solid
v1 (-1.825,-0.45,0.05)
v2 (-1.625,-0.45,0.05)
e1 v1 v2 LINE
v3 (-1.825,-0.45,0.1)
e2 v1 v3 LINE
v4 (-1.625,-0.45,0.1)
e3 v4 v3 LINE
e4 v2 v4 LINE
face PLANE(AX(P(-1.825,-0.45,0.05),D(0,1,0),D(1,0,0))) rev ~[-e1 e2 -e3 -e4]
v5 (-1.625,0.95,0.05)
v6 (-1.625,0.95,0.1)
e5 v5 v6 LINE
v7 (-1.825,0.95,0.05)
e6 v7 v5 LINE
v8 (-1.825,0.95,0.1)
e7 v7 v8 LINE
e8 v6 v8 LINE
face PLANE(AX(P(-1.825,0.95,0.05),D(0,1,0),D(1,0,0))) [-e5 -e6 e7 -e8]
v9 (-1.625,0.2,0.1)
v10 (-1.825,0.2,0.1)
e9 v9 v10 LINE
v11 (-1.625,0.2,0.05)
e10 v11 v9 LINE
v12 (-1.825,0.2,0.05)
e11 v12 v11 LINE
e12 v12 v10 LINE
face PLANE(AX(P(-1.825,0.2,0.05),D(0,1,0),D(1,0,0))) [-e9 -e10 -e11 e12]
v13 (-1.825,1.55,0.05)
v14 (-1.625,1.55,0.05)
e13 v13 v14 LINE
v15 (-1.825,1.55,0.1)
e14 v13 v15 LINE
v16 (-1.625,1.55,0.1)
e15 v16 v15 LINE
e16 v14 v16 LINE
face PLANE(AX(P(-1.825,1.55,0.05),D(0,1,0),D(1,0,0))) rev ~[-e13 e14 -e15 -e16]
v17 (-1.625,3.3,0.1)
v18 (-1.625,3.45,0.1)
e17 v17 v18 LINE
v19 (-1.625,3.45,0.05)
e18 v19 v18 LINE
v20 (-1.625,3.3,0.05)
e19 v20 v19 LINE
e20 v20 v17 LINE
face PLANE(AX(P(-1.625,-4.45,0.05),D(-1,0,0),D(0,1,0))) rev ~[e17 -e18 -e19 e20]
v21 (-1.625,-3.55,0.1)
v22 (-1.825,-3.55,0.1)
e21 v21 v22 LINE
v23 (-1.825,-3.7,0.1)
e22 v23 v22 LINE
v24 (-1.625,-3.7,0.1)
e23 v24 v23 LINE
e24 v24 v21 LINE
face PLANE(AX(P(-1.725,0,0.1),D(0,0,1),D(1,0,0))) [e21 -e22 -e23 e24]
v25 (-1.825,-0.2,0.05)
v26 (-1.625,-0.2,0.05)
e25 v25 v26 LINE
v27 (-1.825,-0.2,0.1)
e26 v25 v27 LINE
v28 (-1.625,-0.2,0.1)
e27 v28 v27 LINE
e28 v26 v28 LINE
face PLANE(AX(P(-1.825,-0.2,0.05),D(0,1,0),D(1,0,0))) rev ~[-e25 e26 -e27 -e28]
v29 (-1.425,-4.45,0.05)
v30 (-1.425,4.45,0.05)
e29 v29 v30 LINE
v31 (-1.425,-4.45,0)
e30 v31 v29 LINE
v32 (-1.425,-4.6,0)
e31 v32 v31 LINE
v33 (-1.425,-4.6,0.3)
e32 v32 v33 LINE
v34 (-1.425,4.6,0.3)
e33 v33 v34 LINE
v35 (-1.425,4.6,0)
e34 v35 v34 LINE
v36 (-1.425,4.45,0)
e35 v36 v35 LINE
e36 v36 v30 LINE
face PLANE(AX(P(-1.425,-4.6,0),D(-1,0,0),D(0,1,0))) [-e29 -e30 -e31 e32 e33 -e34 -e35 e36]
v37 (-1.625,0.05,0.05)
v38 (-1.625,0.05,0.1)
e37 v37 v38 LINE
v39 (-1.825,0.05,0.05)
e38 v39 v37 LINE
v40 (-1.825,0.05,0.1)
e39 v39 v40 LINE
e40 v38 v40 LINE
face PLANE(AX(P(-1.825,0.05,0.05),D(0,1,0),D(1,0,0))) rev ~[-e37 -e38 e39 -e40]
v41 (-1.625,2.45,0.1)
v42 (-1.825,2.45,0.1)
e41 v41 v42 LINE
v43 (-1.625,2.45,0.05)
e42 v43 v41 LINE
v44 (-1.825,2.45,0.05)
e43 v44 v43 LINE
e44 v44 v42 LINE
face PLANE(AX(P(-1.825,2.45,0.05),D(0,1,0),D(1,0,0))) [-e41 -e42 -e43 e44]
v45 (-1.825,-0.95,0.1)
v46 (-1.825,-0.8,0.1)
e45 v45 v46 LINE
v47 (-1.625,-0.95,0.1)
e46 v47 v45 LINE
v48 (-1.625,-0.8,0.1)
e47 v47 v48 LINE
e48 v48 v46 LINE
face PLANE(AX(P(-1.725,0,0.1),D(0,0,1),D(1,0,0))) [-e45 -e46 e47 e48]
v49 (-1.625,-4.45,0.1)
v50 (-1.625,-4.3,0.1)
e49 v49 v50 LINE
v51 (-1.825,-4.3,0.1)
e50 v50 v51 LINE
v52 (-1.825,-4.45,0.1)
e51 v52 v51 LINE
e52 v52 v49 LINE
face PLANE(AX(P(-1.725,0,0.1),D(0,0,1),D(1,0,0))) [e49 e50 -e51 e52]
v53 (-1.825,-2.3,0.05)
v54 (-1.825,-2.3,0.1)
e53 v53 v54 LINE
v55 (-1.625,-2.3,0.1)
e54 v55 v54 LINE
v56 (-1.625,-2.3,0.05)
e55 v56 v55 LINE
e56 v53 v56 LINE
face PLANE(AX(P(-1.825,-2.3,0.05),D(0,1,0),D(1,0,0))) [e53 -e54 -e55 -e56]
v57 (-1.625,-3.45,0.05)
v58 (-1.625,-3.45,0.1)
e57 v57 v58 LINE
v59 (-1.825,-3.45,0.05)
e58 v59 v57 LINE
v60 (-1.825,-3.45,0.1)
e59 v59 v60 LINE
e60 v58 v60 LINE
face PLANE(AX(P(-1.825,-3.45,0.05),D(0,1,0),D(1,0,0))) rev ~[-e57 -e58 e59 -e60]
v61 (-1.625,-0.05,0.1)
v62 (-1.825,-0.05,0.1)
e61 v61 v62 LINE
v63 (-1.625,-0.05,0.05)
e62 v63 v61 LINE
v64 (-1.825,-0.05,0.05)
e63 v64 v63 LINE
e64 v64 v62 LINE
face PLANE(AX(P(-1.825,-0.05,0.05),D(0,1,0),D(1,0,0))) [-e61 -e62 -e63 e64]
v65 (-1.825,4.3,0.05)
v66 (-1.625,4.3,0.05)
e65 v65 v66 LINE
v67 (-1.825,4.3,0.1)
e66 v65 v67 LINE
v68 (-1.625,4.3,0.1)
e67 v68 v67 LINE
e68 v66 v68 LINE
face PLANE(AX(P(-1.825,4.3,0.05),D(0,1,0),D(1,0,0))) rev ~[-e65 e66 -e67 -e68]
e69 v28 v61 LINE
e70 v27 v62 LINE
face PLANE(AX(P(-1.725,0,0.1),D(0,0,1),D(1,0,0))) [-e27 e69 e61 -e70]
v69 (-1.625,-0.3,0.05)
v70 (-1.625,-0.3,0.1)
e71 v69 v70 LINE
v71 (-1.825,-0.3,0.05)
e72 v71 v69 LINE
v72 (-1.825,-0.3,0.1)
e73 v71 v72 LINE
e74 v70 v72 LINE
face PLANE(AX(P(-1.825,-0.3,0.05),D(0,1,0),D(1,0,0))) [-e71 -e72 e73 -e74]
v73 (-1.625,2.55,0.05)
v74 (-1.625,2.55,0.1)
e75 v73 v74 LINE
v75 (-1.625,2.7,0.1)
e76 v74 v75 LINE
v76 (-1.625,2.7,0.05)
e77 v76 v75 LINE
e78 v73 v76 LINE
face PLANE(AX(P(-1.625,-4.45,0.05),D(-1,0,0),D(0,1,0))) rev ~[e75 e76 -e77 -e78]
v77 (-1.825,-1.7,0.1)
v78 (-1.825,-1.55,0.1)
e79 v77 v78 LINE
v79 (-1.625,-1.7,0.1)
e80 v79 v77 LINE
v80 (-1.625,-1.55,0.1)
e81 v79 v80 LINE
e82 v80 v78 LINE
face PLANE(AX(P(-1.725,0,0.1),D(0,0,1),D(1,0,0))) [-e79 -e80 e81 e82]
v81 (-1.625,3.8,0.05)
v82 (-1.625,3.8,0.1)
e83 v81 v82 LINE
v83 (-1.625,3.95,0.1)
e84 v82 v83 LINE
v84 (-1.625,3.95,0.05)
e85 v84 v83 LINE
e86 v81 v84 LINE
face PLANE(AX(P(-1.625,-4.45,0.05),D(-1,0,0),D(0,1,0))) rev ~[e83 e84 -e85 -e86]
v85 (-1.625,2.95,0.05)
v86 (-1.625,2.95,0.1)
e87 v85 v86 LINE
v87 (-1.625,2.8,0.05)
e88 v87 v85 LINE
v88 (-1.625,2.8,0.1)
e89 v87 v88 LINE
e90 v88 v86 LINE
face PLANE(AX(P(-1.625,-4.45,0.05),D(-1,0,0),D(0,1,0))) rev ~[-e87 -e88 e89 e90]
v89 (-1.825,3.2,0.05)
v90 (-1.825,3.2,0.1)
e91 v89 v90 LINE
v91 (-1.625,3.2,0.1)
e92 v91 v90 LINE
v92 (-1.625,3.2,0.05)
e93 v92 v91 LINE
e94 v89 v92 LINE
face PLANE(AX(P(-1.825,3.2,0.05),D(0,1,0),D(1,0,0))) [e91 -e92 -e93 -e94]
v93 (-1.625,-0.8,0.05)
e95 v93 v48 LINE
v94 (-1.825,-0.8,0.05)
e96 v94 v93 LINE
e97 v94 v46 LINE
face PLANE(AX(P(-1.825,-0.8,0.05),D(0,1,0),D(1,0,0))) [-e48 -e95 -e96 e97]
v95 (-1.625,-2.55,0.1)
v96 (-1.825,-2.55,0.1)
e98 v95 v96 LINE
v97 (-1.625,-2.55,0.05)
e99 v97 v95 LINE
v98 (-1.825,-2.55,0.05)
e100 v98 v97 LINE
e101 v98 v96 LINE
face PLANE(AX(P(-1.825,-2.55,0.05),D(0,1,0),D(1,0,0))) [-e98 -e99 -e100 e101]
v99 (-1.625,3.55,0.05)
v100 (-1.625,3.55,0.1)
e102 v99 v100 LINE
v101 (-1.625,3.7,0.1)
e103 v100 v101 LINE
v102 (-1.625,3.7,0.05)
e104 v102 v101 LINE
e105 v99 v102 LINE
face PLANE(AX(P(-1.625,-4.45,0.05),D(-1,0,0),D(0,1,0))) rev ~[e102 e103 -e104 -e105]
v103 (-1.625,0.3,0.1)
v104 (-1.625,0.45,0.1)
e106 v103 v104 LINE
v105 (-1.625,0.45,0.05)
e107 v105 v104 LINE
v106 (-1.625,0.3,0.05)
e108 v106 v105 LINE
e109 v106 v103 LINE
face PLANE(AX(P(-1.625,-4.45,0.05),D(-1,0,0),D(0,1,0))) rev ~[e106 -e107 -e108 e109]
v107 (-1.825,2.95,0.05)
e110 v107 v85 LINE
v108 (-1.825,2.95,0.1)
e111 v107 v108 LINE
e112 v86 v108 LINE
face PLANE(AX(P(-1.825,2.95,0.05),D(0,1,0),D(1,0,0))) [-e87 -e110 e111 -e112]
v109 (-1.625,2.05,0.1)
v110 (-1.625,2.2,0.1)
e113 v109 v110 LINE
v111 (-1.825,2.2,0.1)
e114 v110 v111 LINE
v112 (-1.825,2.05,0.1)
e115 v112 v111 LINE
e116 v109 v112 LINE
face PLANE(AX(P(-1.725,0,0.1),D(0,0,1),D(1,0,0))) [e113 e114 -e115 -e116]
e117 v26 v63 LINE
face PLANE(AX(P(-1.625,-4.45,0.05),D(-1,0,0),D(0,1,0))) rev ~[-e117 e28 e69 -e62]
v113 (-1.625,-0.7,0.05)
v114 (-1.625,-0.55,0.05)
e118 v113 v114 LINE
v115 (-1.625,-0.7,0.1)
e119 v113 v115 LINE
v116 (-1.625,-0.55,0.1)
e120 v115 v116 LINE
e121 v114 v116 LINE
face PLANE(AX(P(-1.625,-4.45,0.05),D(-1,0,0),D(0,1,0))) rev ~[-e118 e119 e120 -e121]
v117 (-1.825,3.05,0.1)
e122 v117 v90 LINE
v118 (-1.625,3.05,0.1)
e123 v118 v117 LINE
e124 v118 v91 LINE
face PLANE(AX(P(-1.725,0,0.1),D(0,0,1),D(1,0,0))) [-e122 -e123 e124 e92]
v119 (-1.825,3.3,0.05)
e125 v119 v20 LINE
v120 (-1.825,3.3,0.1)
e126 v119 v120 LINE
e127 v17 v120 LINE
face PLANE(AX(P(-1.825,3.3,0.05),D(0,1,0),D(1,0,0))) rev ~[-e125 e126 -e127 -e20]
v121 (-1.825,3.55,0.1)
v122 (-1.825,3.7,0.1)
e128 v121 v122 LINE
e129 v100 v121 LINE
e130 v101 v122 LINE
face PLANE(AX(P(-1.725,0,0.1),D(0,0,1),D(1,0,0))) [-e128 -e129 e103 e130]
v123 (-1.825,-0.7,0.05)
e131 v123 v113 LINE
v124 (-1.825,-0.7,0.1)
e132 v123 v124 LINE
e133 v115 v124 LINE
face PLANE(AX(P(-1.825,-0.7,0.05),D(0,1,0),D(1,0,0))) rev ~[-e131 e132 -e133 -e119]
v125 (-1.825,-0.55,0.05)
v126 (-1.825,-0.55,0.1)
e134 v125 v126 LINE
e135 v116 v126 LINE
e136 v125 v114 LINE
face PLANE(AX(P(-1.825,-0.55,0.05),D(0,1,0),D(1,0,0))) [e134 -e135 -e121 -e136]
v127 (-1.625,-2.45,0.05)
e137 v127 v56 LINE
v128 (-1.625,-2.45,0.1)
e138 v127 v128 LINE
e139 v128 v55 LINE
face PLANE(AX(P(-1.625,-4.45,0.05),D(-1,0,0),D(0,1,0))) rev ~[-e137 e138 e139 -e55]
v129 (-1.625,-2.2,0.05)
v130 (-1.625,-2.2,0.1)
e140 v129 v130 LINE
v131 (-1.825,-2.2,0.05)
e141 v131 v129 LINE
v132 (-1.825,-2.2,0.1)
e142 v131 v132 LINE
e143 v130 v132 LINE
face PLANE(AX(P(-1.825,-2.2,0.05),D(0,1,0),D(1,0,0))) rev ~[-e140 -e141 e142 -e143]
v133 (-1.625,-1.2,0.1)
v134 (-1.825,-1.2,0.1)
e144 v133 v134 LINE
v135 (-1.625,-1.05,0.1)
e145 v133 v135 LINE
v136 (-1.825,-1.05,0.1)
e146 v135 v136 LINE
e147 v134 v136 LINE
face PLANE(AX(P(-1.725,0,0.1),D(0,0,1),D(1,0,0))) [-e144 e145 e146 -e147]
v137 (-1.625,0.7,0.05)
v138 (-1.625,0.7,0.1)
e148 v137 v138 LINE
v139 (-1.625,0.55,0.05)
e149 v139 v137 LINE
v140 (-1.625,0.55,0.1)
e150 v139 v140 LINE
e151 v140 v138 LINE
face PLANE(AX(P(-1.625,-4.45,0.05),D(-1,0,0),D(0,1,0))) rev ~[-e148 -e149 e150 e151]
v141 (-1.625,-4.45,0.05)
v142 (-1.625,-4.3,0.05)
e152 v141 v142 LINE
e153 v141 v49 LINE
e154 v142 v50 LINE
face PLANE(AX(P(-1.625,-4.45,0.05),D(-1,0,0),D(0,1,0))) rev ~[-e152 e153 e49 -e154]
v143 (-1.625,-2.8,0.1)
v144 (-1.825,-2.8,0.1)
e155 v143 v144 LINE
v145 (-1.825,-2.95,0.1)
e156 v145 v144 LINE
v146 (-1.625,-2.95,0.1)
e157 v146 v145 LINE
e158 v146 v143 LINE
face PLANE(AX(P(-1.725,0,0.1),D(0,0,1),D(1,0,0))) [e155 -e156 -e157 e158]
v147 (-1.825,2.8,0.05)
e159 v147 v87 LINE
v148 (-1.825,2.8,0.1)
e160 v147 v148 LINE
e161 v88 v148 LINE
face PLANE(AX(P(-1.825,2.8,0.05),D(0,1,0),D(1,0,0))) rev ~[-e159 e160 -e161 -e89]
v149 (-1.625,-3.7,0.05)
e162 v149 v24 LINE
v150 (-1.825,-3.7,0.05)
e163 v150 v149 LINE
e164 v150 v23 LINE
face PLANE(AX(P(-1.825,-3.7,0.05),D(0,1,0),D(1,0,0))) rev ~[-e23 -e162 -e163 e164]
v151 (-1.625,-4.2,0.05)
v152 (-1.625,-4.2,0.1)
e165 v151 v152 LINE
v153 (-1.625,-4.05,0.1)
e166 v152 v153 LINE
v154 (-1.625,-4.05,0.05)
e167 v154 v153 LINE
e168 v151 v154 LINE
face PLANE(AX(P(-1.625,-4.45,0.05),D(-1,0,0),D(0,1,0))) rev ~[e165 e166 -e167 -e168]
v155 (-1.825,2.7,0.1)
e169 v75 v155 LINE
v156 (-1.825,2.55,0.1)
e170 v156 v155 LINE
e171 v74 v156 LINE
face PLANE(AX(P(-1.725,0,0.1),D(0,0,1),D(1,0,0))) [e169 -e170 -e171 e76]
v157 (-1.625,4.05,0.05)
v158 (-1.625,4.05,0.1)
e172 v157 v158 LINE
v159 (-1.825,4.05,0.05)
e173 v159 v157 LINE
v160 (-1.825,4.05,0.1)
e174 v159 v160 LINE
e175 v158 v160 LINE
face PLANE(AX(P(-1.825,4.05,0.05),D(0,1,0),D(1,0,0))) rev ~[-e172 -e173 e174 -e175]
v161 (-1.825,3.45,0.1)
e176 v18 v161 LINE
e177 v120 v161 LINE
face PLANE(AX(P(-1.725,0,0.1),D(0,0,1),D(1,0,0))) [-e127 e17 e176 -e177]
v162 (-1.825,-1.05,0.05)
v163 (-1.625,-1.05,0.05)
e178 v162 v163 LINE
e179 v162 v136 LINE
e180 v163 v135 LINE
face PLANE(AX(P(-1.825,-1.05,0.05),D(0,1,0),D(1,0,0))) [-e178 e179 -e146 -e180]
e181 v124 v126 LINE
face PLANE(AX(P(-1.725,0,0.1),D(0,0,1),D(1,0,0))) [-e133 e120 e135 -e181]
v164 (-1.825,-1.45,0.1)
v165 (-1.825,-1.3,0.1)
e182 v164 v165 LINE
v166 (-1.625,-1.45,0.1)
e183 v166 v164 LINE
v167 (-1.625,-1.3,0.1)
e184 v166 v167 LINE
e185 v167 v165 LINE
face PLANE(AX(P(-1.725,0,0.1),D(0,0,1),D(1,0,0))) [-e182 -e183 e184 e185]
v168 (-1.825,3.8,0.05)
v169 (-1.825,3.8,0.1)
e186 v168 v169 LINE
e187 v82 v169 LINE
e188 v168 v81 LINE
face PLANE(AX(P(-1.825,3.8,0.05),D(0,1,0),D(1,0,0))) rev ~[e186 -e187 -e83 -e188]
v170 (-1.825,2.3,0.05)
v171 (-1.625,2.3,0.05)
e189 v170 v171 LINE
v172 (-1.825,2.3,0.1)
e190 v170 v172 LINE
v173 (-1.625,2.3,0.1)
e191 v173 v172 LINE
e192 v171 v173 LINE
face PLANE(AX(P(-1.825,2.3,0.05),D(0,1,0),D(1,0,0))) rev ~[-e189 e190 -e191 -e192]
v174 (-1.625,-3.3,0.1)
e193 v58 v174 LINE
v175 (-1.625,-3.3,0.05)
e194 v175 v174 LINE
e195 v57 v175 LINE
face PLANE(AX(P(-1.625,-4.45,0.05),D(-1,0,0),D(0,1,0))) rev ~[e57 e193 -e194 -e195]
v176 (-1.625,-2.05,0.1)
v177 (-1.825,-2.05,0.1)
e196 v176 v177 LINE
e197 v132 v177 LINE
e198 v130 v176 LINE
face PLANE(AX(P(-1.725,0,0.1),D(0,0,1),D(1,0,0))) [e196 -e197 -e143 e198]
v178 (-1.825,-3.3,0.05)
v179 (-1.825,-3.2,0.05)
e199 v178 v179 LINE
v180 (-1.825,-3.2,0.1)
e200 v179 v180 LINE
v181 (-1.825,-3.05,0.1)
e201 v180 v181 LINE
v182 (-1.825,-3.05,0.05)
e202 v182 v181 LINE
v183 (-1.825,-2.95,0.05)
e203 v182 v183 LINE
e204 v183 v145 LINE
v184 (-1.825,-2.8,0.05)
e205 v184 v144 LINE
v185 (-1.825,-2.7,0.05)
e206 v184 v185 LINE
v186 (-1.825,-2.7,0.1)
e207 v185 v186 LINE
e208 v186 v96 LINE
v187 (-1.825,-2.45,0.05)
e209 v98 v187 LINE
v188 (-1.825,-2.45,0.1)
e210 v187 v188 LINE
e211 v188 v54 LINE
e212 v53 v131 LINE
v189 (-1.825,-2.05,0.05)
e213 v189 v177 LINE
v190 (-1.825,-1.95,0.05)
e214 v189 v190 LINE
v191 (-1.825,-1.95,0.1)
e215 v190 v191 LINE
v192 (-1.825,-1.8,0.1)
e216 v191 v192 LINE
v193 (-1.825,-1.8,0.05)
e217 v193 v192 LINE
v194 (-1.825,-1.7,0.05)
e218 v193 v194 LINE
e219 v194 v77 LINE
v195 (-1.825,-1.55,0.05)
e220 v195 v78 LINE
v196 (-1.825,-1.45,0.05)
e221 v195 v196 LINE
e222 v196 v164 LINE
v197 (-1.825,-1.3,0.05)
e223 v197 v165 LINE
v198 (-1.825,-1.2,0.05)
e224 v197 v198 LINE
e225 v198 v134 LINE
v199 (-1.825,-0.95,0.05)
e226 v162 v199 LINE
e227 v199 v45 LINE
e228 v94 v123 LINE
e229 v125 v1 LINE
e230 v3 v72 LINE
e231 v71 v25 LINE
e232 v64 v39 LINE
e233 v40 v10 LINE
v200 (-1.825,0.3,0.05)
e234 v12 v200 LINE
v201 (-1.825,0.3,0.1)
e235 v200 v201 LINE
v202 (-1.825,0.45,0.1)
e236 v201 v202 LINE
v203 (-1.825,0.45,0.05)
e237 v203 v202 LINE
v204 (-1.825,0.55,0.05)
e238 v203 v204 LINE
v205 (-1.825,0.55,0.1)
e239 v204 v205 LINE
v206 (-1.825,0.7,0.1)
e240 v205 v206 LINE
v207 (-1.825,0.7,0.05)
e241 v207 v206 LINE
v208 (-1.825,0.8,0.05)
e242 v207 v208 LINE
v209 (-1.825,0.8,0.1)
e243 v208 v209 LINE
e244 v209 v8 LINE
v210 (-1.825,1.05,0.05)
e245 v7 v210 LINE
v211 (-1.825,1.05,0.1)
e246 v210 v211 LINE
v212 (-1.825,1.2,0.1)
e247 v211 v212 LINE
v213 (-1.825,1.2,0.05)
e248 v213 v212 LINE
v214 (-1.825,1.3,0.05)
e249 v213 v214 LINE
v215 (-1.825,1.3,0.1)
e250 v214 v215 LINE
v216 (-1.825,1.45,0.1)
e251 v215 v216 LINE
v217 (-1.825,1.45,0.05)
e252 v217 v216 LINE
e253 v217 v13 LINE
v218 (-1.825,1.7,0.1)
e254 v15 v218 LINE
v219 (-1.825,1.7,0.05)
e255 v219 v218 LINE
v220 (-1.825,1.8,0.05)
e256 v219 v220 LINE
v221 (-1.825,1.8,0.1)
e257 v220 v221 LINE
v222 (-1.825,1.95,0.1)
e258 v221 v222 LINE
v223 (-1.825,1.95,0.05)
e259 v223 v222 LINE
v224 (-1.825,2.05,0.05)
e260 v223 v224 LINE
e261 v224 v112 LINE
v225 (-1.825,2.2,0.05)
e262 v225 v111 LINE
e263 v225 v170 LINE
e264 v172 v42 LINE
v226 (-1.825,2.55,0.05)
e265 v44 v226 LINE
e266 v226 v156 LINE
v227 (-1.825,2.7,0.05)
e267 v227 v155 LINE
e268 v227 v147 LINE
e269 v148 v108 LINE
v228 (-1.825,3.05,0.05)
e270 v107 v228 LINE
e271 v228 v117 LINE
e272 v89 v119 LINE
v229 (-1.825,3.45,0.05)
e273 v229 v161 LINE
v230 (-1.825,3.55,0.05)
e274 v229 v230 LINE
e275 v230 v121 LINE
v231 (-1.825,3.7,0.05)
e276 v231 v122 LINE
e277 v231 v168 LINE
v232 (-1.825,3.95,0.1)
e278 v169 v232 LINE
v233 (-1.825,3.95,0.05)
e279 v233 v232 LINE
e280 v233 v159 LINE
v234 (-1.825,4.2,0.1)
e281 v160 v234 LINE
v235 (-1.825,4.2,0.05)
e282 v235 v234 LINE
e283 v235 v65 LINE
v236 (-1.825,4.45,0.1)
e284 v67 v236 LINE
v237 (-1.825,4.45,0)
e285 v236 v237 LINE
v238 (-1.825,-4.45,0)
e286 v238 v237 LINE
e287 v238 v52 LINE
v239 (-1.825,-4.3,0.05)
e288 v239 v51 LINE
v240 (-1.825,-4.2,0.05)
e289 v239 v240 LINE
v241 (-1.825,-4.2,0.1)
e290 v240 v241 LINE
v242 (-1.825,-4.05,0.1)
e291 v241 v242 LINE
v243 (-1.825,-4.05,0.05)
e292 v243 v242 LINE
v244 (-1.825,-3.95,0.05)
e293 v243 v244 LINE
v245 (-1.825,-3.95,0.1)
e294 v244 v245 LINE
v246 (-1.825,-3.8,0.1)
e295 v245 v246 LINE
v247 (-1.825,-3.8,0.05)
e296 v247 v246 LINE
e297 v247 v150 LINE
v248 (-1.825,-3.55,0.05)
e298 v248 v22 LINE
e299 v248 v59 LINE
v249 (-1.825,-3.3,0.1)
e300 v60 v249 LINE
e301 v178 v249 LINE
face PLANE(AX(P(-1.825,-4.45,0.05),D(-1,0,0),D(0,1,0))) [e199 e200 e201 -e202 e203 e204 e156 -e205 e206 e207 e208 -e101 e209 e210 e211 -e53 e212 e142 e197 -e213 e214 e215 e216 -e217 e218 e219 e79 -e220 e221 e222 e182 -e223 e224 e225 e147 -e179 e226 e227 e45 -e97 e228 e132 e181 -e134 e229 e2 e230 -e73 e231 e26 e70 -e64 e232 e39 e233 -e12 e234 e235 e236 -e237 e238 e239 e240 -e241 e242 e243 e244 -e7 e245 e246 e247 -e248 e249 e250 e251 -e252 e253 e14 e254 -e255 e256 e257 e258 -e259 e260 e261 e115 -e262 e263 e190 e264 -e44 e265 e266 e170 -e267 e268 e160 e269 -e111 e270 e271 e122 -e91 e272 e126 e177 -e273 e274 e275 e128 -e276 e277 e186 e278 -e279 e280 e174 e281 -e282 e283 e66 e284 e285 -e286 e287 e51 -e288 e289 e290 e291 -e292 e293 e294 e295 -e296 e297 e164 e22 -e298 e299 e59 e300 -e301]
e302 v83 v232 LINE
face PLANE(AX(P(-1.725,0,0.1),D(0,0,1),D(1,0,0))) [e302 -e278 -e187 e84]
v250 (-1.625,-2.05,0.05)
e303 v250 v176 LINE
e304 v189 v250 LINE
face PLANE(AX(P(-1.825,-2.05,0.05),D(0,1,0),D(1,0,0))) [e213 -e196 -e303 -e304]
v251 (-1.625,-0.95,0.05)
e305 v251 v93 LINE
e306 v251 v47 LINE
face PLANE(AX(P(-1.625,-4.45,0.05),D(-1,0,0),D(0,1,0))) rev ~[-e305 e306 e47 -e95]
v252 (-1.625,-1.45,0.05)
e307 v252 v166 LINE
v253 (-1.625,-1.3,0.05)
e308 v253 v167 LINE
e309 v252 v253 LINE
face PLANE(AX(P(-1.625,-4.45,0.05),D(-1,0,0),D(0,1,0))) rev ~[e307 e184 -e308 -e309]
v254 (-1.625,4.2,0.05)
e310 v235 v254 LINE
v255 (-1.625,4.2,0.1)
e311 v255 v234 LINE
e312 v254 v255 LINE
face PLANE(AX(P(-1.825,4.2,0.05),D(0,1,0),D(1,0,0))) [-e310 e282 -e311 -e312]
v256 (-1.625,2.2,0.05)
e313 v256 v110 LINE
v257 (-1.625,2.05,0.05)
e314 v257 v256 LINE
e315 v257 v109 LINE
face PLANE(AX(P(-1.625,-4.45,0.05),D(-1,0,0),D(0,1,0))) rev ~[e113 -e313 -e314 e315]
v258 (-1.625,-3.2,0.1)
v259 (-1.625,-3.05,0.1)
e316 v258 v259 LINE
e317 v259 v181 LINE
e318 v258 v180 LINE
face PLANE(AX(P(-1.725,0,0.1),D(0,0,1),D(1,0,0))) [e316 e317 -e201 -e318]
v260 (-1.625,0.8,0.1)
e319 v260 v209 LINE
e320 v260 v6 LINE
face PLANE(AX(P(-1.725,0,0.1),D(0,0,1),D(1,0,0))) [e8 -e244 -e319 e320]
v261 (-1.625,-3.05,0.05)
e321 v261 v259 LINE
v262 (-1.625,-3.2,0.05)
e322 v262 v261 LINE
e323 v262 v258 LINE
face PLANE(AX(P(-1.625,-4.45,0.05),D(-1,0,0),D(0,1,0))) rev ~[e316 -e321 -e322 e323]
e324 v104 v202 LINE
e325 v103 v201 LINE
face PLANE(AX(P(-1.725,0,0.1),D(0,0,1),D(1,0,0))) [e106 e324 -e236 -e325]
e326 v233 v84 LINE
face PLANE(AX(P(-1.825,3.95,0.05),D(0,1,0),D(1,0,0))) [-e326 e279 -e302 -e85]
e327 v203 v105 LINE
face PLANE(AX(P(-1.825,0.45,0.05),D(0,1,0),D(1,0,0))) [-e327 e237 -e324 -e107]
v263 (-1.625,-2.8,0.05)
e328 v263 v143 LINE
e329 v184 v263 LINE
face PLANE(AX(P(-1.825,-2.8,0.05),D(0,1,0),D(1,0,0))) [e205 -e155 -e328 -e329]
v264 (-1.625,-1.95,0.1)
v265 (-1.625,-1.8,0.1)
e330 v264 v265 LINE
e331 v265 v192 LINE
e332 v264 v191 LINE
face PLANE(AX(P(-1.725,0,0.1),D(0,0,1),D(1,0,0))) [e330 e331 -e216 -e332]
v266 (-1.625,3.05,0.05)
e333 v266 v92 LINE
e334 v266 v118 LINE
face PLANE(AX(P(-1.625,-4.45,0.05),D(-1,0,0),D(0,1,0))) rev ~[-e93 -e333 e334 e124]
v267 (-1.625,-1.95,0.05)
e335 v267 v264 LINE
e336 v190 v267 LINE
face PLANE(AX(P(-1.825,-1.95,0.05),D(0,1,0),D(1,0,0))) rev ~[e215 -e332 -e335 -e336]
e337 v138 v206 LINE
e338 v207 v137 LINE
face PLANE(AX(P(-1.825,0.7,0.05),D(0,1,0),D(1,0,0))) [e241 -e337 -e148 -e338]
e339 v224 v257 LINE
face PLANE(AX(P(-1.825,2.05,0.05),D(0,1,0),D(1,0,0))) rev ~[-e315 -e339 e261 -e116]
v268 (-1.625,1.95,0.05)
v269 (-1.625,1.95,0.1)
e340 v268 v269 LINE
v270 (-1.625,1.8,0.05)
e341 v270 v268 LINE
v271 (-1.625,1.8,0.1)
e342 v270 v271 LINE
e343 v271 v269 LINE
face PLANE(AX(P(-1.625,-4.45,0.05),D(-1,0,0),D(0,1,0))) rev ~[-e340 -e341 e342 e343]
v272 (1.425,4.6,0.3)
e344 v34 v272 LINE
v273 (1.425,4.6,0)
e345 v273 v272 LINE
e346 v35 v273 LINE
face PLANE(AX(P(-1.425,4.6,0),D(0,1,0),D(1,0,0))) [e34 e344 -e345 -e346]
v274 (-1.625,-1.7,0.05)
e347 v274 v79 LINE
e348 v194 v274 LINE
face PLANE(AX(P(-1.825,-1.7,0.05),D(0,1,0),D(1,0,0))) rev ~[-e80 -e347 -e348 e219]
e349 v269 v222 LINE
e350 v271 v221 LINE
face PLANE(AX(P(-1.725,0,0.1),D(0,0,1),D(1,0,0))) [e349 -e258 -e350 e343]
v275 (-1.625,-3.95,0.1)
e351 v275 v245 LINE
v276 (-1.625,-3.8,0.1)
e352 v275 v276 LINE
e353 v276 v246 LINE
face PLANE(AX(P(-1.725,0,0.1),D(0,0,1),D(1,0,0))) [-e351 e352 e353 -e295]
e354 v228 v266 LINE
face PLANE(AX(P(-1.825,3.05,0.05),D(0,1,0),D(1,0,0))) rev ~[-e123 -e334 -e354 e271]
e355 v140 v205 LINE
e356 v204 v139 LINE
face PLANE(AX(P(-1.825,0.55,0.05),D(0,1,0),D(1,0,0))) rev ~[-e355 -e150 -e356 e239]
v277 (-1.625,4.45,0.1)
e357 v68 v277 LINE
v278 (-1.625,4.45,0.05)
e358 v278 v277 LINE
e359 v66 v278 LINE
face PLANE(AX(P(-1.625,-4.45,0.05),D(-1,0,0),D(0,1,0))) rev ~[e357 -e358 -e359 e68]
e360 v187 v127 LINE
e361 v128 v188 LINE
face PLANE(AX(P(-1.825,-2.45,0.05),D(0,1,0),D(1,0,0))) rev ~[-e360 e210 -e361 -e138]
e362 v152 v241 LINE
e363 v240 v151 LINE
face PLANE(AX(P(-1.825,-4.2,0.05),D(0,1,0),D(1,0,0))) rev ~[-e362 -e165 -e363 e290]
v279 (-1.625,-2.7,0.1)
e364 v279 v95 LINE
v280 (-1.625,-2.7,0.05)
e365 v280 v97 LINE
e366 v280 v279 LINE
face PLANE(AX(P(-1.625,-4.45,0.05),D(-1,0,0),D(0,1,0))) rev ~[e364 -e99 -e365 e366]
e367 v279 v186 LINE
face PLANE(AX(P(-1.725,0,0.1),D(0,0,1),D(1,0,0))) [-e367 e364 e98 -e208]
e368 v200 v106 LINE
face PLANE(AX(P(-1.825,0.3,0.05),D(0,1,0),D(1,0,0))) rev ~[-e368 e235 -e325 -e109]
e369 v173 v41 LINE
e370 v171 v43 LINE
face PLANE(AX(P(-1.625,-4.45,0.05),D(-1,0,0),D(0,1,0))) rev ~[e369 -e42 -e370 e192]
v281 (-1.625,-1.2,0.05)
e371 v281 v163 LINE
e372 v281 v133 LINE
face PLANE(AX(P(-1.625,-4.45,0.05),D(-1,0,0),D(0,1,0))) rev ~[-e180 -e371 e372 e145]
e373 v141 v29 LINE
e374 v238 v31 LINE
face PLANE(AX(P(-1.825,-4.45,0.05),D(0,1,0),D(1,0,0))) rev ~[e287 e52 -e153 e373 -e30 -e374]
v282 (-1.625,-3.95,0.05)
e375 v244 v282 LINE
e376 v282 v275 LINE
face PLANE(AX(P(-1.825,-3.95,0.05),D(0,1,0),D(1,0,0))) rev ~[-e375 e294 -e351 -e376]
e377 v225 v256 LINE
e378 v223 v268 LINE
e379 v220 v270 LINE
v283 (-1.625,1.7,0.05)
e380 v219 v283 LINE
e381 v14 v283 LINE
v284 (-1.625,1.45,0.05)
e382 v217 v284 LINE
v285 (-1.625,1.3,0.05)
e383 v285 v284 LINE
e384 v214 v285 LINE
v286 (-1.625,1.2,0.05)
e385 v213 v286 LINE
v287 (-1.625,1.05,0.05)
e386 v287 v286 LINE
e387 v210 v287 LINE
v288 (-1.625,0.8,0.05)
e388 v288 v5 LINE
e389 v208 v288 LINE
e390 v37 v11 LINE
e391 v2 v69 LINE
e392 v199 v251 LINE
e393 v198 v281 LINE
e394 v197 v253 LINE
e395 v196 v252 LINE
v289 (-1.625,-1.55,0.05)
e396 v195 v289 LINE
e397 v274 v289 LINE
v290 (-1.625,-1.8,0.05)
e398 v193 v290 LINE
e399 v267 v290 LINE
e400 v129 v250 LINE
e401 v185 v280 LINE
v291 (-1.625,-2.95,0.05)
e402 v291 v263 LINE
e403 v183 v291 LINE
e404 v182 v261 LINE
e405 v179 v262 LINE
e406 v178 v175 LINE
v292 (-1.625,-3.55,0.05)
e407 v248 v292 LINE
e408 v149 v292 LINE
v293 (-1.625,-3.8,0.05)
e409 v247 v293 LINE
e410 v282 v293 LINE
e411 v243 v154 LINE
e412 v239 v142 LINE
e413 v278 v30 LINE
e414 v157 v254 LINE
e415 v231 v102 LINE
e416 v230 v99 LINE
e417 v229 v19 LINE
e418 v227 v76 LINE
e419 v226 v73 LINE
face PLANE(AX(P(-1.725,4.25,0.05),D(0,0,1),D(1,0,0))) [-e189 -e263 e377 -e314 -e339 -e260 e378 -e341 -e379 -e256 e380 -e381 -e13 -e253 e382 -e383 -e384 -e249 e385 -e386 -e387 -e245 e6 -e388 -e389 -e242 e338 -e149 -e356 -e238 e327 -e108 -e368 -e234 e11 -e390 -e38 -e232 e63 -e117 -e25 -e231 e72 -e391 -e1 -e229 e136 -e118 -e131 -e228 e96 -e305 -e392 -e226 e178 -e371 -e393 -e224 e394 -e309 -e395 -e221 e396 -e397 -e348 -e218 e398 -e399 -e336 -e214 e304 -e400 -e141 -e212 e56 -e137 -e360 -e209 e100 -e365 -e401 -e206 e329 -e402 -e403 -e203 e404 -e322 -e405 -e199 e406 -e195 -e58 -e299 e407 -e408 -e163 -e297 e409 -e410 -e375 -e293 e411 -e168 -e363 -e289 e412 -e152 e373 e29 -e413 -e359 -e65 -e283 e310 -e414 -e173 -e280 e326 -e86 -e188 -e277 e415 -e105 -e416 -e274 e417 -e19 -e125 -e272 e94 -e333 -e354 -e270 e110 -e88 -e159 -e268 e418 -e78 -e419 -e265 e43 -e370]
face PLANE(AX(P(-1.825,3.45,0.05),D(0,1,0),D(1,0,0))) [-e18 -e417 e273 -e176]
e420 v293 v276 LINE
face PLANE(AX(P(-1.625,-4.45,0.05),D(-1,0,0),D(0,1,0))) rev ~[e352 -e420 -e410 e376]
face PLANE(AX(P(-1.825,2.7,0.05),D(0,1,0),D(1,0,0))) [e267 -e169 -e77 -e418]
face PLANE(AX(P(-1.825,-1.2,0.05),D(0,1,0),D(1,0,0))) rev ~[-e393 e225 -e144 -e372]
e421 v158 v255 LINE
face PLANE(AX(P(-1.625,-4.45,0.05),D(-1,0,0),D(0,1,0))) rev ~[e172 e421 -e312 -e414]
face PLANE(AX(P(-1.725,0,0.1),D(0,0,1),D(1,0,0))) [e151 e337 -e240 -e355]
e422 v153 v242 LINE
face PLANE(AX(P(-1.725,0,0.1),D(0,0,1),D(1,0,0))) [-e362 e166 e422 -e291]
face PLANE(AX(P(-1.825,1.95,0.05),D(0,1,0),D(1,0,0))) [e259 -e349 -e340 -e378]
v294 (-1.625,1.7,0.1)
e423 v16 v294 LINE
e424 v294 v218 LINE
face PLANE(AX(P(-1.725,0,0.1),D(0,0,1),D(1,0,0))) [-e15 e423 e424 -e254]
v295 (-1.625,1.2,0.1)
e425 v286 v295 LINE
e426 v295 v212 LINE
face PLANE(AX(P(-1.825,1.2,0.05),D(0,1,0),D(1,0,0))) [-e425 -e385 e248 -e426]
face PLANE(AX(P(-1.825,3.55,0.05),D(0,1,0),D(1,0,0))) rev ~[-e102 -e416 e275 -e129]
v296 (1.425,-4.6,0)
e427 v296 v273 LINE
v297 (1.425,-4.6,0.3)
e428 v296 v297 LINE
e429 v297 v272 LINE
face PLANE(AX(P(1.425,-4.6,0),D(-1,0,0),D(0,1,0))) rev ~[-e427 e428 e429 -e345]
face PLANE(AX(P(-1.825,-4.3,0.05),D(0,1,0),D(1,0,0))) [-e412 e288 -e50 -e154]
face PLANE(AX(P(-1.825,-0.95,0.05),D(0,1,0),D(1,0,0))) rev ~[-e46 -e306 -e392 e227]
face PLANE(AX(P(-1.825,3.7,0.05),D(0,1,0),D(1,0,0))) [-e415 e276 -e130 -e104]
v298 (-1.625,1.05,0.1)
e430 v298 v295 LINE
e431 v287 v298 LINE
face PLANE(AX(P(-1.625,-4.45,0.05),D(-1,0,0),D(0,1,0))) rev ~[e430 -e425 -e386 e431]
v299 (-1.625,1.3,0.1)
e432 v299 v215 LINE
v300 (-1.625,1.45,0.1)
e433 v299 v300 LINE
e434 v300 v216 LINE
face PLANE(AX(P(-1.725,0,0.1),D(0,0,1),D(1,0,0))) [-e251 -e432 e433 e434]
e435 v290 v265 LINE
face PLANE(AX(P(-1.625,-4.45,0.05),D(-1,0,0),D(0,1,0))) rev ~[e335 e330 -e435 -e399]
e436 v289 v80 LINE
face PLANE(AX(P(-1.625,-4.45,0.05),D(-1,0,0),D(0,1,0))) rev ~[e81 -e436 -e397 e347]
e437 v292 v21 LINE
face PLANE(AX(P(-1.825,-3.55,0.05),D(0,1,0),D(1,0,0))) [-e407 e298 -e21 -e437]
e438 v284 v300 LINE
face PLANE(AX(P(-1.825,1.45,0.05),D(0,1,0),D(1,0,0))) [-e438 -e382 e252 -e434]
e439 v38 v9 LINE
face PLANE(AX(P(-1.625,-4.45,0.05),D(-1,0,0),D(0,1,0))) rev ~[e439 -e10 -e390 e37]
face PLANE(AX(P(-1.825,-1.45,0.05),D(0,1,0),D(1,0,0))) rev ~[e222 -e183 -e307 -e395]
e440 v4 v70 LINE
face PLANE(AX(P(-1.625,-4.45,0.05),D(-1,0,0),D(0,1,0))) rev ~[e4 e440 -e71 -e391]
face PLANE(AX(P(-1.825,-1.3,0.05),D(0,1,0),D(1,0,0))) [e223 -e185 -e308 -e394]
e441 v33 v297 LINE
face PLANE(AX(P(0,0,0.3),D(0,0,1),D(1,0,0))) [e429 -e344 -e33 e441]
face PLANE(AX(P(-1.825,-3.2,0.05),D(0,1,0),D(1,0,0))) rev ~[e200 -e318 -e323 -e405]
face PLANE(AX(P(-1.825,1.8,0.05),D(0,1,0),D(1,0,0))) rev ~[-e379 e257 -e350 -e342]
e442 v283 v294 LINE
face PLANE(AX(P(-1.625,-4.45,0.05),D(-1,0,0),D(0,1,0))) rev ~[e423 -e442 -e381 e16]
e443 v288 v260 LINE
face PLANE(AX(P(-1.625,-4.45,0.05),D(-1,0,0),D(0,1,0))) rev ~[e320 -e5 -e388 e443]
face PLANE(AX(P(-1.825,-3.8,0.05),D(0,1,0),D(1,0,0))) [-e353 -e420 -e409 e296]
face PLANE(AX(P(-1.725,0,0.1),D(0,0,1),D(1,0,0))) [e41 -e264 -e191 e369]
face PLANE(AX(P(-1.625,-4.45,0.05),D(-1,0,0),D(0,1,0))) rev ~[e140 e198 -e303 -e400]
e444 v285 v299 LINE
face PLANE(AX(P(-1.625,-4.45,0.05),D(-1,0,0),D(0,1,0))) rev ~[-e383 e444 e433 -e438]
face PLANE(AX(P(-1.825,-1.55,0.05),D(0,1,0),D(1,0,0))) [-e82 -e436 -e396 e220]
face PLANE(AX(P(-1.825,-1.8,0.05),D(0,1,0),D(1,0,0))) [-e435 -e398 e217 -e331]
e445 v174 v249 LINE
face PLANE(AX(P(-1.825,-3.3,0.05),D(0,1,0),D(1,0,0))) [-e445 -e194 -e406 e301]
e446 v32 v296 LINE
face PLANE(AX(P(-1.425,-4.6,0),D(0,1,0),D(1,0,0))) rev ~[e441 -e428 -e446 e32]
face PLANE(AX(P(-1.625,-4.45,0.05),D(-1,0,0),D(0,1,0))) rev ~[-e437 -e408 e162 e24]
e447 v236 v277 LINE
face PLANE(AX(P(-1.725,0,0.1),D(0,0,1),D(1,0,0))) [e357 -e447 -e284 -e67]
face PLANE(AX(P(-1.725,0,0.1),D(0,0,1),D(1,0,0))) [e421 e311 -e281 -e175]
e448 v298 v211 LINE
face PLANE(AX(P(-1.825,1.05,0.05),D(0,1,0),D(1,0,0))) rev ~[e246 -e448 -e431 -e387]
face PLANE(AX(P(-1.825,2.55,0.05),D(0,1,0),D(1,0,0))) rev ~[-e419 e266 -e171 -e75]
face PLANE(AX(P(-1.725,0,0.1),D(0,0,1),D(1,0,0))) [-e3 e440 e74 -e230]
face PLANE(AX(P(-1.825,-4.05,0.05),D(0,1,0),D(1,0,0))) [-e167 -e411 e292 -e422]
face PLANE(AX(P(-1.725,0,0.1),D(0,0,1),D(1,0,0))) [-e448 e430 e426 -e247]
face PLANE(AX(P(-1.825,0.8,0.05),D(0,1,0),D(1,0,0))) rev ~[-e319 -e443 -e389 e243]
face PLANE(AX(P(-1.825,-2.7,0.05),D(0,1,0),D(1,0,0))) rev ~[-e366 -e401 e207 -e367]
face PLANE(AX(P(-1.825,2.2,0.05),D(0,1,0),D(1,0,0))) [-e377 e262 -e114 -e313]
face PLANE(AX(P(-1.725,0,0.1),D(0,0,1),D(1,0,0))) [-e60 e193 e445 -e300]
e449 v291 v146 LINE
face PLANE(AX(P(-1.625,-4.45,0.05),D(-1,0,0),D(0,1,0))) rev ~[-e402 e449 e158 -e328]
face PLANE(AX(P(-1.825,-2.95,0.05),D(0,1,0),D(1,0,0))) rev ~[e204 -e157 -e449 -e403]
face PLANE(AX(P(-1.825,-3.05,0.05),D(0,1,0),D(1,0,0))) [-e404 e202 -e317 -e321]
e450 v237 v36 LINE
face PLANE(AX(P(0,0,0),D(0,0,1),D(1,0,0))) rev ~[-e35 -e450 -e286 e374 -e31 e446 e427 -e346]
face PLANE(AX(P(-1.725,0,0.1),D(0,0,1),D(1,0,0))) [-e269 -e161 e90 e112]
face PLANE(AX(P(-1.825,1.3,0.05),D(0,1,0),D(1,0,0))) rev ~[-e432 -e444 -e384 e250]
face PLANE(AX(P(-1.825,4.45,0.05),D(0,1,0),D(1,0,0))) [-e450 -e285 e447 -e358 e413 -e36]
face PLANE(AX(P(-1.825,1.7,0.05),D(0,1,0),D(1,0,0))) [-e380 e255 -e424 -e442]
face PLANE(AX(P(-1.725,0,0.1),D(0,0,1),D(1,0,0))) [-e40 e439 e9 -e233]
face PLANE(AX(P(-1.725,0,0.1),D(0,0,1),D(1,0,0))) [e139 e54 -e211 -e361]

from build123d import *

# Parameters (mm, degrees)
SKETCH1_W       = 2.85
SKETCH1_H       = 9.2
EXTRUDE1_DEPTH  = 0.3
SKETCH2_W       = 0.4
SKETCH2_H       = 8.9
EXTRUDE2_DEPTH  = 0.05
SKETCH3_W       = 0.2
SKETCH3_H       = 8.9
EXTRUDE3_DEPTH  = 0.05
SKETCH4_W       = 0.2
SKETCH4_H       = 0.1
EXTRUDE4_DEPTH  = 1.25
LPATTERN1_COUNT = 35
LPATTERN1_PITCH = 0.25


with BuildPart() as part:
    # Sketch1 → Extrude1 (new body)
    with BuildSketch(Plane.XY):
        Rectangle(SKETCH1_W, SKETCH1_H)
    extrude(amount=EXTRUDE1_DEPTH)

    # Sketch2 → Extrude2 (add)
    with BuildSketch(Plane.XY):
        with Locations((-1.625, 0)):
            Rectangle(SKETCH2_W, SKETCH2_H)
    extrude(amount=EXTRUDE2_DEPTH)

    # Sketch3 → Extrude3 (add)
    with BuildSketch(Plane.XY.offset(0.05)):
        with Locations((-1.725, 0)):
            Rectangle(SKETCH3_W, SKETCH3_H)
    extrude(amount=EXTRUDE3_DEPTH)

    # Sketch4 → Extrude4 (cut, through all)
    with BuildSketch(Plane.XY.offset(0.05)):
        with Locations((-1.725, -4.25)):
            Rectangle(SKETCH4_W, SKETCH4_H)
    extrude4 = extrude(amount=EXTRUDE4_DEPTH, mode=Mode.SUBTRACT)

    # LPattern1: Extrude4 ×35
    with Locations(*[(0, i * LPATTERN1_PITCH, 0) for i in range(1, LPATTERN1_COUNT)]):
        add(extrude4, mode=Mode.SUBTRACT)


solid = part.part
